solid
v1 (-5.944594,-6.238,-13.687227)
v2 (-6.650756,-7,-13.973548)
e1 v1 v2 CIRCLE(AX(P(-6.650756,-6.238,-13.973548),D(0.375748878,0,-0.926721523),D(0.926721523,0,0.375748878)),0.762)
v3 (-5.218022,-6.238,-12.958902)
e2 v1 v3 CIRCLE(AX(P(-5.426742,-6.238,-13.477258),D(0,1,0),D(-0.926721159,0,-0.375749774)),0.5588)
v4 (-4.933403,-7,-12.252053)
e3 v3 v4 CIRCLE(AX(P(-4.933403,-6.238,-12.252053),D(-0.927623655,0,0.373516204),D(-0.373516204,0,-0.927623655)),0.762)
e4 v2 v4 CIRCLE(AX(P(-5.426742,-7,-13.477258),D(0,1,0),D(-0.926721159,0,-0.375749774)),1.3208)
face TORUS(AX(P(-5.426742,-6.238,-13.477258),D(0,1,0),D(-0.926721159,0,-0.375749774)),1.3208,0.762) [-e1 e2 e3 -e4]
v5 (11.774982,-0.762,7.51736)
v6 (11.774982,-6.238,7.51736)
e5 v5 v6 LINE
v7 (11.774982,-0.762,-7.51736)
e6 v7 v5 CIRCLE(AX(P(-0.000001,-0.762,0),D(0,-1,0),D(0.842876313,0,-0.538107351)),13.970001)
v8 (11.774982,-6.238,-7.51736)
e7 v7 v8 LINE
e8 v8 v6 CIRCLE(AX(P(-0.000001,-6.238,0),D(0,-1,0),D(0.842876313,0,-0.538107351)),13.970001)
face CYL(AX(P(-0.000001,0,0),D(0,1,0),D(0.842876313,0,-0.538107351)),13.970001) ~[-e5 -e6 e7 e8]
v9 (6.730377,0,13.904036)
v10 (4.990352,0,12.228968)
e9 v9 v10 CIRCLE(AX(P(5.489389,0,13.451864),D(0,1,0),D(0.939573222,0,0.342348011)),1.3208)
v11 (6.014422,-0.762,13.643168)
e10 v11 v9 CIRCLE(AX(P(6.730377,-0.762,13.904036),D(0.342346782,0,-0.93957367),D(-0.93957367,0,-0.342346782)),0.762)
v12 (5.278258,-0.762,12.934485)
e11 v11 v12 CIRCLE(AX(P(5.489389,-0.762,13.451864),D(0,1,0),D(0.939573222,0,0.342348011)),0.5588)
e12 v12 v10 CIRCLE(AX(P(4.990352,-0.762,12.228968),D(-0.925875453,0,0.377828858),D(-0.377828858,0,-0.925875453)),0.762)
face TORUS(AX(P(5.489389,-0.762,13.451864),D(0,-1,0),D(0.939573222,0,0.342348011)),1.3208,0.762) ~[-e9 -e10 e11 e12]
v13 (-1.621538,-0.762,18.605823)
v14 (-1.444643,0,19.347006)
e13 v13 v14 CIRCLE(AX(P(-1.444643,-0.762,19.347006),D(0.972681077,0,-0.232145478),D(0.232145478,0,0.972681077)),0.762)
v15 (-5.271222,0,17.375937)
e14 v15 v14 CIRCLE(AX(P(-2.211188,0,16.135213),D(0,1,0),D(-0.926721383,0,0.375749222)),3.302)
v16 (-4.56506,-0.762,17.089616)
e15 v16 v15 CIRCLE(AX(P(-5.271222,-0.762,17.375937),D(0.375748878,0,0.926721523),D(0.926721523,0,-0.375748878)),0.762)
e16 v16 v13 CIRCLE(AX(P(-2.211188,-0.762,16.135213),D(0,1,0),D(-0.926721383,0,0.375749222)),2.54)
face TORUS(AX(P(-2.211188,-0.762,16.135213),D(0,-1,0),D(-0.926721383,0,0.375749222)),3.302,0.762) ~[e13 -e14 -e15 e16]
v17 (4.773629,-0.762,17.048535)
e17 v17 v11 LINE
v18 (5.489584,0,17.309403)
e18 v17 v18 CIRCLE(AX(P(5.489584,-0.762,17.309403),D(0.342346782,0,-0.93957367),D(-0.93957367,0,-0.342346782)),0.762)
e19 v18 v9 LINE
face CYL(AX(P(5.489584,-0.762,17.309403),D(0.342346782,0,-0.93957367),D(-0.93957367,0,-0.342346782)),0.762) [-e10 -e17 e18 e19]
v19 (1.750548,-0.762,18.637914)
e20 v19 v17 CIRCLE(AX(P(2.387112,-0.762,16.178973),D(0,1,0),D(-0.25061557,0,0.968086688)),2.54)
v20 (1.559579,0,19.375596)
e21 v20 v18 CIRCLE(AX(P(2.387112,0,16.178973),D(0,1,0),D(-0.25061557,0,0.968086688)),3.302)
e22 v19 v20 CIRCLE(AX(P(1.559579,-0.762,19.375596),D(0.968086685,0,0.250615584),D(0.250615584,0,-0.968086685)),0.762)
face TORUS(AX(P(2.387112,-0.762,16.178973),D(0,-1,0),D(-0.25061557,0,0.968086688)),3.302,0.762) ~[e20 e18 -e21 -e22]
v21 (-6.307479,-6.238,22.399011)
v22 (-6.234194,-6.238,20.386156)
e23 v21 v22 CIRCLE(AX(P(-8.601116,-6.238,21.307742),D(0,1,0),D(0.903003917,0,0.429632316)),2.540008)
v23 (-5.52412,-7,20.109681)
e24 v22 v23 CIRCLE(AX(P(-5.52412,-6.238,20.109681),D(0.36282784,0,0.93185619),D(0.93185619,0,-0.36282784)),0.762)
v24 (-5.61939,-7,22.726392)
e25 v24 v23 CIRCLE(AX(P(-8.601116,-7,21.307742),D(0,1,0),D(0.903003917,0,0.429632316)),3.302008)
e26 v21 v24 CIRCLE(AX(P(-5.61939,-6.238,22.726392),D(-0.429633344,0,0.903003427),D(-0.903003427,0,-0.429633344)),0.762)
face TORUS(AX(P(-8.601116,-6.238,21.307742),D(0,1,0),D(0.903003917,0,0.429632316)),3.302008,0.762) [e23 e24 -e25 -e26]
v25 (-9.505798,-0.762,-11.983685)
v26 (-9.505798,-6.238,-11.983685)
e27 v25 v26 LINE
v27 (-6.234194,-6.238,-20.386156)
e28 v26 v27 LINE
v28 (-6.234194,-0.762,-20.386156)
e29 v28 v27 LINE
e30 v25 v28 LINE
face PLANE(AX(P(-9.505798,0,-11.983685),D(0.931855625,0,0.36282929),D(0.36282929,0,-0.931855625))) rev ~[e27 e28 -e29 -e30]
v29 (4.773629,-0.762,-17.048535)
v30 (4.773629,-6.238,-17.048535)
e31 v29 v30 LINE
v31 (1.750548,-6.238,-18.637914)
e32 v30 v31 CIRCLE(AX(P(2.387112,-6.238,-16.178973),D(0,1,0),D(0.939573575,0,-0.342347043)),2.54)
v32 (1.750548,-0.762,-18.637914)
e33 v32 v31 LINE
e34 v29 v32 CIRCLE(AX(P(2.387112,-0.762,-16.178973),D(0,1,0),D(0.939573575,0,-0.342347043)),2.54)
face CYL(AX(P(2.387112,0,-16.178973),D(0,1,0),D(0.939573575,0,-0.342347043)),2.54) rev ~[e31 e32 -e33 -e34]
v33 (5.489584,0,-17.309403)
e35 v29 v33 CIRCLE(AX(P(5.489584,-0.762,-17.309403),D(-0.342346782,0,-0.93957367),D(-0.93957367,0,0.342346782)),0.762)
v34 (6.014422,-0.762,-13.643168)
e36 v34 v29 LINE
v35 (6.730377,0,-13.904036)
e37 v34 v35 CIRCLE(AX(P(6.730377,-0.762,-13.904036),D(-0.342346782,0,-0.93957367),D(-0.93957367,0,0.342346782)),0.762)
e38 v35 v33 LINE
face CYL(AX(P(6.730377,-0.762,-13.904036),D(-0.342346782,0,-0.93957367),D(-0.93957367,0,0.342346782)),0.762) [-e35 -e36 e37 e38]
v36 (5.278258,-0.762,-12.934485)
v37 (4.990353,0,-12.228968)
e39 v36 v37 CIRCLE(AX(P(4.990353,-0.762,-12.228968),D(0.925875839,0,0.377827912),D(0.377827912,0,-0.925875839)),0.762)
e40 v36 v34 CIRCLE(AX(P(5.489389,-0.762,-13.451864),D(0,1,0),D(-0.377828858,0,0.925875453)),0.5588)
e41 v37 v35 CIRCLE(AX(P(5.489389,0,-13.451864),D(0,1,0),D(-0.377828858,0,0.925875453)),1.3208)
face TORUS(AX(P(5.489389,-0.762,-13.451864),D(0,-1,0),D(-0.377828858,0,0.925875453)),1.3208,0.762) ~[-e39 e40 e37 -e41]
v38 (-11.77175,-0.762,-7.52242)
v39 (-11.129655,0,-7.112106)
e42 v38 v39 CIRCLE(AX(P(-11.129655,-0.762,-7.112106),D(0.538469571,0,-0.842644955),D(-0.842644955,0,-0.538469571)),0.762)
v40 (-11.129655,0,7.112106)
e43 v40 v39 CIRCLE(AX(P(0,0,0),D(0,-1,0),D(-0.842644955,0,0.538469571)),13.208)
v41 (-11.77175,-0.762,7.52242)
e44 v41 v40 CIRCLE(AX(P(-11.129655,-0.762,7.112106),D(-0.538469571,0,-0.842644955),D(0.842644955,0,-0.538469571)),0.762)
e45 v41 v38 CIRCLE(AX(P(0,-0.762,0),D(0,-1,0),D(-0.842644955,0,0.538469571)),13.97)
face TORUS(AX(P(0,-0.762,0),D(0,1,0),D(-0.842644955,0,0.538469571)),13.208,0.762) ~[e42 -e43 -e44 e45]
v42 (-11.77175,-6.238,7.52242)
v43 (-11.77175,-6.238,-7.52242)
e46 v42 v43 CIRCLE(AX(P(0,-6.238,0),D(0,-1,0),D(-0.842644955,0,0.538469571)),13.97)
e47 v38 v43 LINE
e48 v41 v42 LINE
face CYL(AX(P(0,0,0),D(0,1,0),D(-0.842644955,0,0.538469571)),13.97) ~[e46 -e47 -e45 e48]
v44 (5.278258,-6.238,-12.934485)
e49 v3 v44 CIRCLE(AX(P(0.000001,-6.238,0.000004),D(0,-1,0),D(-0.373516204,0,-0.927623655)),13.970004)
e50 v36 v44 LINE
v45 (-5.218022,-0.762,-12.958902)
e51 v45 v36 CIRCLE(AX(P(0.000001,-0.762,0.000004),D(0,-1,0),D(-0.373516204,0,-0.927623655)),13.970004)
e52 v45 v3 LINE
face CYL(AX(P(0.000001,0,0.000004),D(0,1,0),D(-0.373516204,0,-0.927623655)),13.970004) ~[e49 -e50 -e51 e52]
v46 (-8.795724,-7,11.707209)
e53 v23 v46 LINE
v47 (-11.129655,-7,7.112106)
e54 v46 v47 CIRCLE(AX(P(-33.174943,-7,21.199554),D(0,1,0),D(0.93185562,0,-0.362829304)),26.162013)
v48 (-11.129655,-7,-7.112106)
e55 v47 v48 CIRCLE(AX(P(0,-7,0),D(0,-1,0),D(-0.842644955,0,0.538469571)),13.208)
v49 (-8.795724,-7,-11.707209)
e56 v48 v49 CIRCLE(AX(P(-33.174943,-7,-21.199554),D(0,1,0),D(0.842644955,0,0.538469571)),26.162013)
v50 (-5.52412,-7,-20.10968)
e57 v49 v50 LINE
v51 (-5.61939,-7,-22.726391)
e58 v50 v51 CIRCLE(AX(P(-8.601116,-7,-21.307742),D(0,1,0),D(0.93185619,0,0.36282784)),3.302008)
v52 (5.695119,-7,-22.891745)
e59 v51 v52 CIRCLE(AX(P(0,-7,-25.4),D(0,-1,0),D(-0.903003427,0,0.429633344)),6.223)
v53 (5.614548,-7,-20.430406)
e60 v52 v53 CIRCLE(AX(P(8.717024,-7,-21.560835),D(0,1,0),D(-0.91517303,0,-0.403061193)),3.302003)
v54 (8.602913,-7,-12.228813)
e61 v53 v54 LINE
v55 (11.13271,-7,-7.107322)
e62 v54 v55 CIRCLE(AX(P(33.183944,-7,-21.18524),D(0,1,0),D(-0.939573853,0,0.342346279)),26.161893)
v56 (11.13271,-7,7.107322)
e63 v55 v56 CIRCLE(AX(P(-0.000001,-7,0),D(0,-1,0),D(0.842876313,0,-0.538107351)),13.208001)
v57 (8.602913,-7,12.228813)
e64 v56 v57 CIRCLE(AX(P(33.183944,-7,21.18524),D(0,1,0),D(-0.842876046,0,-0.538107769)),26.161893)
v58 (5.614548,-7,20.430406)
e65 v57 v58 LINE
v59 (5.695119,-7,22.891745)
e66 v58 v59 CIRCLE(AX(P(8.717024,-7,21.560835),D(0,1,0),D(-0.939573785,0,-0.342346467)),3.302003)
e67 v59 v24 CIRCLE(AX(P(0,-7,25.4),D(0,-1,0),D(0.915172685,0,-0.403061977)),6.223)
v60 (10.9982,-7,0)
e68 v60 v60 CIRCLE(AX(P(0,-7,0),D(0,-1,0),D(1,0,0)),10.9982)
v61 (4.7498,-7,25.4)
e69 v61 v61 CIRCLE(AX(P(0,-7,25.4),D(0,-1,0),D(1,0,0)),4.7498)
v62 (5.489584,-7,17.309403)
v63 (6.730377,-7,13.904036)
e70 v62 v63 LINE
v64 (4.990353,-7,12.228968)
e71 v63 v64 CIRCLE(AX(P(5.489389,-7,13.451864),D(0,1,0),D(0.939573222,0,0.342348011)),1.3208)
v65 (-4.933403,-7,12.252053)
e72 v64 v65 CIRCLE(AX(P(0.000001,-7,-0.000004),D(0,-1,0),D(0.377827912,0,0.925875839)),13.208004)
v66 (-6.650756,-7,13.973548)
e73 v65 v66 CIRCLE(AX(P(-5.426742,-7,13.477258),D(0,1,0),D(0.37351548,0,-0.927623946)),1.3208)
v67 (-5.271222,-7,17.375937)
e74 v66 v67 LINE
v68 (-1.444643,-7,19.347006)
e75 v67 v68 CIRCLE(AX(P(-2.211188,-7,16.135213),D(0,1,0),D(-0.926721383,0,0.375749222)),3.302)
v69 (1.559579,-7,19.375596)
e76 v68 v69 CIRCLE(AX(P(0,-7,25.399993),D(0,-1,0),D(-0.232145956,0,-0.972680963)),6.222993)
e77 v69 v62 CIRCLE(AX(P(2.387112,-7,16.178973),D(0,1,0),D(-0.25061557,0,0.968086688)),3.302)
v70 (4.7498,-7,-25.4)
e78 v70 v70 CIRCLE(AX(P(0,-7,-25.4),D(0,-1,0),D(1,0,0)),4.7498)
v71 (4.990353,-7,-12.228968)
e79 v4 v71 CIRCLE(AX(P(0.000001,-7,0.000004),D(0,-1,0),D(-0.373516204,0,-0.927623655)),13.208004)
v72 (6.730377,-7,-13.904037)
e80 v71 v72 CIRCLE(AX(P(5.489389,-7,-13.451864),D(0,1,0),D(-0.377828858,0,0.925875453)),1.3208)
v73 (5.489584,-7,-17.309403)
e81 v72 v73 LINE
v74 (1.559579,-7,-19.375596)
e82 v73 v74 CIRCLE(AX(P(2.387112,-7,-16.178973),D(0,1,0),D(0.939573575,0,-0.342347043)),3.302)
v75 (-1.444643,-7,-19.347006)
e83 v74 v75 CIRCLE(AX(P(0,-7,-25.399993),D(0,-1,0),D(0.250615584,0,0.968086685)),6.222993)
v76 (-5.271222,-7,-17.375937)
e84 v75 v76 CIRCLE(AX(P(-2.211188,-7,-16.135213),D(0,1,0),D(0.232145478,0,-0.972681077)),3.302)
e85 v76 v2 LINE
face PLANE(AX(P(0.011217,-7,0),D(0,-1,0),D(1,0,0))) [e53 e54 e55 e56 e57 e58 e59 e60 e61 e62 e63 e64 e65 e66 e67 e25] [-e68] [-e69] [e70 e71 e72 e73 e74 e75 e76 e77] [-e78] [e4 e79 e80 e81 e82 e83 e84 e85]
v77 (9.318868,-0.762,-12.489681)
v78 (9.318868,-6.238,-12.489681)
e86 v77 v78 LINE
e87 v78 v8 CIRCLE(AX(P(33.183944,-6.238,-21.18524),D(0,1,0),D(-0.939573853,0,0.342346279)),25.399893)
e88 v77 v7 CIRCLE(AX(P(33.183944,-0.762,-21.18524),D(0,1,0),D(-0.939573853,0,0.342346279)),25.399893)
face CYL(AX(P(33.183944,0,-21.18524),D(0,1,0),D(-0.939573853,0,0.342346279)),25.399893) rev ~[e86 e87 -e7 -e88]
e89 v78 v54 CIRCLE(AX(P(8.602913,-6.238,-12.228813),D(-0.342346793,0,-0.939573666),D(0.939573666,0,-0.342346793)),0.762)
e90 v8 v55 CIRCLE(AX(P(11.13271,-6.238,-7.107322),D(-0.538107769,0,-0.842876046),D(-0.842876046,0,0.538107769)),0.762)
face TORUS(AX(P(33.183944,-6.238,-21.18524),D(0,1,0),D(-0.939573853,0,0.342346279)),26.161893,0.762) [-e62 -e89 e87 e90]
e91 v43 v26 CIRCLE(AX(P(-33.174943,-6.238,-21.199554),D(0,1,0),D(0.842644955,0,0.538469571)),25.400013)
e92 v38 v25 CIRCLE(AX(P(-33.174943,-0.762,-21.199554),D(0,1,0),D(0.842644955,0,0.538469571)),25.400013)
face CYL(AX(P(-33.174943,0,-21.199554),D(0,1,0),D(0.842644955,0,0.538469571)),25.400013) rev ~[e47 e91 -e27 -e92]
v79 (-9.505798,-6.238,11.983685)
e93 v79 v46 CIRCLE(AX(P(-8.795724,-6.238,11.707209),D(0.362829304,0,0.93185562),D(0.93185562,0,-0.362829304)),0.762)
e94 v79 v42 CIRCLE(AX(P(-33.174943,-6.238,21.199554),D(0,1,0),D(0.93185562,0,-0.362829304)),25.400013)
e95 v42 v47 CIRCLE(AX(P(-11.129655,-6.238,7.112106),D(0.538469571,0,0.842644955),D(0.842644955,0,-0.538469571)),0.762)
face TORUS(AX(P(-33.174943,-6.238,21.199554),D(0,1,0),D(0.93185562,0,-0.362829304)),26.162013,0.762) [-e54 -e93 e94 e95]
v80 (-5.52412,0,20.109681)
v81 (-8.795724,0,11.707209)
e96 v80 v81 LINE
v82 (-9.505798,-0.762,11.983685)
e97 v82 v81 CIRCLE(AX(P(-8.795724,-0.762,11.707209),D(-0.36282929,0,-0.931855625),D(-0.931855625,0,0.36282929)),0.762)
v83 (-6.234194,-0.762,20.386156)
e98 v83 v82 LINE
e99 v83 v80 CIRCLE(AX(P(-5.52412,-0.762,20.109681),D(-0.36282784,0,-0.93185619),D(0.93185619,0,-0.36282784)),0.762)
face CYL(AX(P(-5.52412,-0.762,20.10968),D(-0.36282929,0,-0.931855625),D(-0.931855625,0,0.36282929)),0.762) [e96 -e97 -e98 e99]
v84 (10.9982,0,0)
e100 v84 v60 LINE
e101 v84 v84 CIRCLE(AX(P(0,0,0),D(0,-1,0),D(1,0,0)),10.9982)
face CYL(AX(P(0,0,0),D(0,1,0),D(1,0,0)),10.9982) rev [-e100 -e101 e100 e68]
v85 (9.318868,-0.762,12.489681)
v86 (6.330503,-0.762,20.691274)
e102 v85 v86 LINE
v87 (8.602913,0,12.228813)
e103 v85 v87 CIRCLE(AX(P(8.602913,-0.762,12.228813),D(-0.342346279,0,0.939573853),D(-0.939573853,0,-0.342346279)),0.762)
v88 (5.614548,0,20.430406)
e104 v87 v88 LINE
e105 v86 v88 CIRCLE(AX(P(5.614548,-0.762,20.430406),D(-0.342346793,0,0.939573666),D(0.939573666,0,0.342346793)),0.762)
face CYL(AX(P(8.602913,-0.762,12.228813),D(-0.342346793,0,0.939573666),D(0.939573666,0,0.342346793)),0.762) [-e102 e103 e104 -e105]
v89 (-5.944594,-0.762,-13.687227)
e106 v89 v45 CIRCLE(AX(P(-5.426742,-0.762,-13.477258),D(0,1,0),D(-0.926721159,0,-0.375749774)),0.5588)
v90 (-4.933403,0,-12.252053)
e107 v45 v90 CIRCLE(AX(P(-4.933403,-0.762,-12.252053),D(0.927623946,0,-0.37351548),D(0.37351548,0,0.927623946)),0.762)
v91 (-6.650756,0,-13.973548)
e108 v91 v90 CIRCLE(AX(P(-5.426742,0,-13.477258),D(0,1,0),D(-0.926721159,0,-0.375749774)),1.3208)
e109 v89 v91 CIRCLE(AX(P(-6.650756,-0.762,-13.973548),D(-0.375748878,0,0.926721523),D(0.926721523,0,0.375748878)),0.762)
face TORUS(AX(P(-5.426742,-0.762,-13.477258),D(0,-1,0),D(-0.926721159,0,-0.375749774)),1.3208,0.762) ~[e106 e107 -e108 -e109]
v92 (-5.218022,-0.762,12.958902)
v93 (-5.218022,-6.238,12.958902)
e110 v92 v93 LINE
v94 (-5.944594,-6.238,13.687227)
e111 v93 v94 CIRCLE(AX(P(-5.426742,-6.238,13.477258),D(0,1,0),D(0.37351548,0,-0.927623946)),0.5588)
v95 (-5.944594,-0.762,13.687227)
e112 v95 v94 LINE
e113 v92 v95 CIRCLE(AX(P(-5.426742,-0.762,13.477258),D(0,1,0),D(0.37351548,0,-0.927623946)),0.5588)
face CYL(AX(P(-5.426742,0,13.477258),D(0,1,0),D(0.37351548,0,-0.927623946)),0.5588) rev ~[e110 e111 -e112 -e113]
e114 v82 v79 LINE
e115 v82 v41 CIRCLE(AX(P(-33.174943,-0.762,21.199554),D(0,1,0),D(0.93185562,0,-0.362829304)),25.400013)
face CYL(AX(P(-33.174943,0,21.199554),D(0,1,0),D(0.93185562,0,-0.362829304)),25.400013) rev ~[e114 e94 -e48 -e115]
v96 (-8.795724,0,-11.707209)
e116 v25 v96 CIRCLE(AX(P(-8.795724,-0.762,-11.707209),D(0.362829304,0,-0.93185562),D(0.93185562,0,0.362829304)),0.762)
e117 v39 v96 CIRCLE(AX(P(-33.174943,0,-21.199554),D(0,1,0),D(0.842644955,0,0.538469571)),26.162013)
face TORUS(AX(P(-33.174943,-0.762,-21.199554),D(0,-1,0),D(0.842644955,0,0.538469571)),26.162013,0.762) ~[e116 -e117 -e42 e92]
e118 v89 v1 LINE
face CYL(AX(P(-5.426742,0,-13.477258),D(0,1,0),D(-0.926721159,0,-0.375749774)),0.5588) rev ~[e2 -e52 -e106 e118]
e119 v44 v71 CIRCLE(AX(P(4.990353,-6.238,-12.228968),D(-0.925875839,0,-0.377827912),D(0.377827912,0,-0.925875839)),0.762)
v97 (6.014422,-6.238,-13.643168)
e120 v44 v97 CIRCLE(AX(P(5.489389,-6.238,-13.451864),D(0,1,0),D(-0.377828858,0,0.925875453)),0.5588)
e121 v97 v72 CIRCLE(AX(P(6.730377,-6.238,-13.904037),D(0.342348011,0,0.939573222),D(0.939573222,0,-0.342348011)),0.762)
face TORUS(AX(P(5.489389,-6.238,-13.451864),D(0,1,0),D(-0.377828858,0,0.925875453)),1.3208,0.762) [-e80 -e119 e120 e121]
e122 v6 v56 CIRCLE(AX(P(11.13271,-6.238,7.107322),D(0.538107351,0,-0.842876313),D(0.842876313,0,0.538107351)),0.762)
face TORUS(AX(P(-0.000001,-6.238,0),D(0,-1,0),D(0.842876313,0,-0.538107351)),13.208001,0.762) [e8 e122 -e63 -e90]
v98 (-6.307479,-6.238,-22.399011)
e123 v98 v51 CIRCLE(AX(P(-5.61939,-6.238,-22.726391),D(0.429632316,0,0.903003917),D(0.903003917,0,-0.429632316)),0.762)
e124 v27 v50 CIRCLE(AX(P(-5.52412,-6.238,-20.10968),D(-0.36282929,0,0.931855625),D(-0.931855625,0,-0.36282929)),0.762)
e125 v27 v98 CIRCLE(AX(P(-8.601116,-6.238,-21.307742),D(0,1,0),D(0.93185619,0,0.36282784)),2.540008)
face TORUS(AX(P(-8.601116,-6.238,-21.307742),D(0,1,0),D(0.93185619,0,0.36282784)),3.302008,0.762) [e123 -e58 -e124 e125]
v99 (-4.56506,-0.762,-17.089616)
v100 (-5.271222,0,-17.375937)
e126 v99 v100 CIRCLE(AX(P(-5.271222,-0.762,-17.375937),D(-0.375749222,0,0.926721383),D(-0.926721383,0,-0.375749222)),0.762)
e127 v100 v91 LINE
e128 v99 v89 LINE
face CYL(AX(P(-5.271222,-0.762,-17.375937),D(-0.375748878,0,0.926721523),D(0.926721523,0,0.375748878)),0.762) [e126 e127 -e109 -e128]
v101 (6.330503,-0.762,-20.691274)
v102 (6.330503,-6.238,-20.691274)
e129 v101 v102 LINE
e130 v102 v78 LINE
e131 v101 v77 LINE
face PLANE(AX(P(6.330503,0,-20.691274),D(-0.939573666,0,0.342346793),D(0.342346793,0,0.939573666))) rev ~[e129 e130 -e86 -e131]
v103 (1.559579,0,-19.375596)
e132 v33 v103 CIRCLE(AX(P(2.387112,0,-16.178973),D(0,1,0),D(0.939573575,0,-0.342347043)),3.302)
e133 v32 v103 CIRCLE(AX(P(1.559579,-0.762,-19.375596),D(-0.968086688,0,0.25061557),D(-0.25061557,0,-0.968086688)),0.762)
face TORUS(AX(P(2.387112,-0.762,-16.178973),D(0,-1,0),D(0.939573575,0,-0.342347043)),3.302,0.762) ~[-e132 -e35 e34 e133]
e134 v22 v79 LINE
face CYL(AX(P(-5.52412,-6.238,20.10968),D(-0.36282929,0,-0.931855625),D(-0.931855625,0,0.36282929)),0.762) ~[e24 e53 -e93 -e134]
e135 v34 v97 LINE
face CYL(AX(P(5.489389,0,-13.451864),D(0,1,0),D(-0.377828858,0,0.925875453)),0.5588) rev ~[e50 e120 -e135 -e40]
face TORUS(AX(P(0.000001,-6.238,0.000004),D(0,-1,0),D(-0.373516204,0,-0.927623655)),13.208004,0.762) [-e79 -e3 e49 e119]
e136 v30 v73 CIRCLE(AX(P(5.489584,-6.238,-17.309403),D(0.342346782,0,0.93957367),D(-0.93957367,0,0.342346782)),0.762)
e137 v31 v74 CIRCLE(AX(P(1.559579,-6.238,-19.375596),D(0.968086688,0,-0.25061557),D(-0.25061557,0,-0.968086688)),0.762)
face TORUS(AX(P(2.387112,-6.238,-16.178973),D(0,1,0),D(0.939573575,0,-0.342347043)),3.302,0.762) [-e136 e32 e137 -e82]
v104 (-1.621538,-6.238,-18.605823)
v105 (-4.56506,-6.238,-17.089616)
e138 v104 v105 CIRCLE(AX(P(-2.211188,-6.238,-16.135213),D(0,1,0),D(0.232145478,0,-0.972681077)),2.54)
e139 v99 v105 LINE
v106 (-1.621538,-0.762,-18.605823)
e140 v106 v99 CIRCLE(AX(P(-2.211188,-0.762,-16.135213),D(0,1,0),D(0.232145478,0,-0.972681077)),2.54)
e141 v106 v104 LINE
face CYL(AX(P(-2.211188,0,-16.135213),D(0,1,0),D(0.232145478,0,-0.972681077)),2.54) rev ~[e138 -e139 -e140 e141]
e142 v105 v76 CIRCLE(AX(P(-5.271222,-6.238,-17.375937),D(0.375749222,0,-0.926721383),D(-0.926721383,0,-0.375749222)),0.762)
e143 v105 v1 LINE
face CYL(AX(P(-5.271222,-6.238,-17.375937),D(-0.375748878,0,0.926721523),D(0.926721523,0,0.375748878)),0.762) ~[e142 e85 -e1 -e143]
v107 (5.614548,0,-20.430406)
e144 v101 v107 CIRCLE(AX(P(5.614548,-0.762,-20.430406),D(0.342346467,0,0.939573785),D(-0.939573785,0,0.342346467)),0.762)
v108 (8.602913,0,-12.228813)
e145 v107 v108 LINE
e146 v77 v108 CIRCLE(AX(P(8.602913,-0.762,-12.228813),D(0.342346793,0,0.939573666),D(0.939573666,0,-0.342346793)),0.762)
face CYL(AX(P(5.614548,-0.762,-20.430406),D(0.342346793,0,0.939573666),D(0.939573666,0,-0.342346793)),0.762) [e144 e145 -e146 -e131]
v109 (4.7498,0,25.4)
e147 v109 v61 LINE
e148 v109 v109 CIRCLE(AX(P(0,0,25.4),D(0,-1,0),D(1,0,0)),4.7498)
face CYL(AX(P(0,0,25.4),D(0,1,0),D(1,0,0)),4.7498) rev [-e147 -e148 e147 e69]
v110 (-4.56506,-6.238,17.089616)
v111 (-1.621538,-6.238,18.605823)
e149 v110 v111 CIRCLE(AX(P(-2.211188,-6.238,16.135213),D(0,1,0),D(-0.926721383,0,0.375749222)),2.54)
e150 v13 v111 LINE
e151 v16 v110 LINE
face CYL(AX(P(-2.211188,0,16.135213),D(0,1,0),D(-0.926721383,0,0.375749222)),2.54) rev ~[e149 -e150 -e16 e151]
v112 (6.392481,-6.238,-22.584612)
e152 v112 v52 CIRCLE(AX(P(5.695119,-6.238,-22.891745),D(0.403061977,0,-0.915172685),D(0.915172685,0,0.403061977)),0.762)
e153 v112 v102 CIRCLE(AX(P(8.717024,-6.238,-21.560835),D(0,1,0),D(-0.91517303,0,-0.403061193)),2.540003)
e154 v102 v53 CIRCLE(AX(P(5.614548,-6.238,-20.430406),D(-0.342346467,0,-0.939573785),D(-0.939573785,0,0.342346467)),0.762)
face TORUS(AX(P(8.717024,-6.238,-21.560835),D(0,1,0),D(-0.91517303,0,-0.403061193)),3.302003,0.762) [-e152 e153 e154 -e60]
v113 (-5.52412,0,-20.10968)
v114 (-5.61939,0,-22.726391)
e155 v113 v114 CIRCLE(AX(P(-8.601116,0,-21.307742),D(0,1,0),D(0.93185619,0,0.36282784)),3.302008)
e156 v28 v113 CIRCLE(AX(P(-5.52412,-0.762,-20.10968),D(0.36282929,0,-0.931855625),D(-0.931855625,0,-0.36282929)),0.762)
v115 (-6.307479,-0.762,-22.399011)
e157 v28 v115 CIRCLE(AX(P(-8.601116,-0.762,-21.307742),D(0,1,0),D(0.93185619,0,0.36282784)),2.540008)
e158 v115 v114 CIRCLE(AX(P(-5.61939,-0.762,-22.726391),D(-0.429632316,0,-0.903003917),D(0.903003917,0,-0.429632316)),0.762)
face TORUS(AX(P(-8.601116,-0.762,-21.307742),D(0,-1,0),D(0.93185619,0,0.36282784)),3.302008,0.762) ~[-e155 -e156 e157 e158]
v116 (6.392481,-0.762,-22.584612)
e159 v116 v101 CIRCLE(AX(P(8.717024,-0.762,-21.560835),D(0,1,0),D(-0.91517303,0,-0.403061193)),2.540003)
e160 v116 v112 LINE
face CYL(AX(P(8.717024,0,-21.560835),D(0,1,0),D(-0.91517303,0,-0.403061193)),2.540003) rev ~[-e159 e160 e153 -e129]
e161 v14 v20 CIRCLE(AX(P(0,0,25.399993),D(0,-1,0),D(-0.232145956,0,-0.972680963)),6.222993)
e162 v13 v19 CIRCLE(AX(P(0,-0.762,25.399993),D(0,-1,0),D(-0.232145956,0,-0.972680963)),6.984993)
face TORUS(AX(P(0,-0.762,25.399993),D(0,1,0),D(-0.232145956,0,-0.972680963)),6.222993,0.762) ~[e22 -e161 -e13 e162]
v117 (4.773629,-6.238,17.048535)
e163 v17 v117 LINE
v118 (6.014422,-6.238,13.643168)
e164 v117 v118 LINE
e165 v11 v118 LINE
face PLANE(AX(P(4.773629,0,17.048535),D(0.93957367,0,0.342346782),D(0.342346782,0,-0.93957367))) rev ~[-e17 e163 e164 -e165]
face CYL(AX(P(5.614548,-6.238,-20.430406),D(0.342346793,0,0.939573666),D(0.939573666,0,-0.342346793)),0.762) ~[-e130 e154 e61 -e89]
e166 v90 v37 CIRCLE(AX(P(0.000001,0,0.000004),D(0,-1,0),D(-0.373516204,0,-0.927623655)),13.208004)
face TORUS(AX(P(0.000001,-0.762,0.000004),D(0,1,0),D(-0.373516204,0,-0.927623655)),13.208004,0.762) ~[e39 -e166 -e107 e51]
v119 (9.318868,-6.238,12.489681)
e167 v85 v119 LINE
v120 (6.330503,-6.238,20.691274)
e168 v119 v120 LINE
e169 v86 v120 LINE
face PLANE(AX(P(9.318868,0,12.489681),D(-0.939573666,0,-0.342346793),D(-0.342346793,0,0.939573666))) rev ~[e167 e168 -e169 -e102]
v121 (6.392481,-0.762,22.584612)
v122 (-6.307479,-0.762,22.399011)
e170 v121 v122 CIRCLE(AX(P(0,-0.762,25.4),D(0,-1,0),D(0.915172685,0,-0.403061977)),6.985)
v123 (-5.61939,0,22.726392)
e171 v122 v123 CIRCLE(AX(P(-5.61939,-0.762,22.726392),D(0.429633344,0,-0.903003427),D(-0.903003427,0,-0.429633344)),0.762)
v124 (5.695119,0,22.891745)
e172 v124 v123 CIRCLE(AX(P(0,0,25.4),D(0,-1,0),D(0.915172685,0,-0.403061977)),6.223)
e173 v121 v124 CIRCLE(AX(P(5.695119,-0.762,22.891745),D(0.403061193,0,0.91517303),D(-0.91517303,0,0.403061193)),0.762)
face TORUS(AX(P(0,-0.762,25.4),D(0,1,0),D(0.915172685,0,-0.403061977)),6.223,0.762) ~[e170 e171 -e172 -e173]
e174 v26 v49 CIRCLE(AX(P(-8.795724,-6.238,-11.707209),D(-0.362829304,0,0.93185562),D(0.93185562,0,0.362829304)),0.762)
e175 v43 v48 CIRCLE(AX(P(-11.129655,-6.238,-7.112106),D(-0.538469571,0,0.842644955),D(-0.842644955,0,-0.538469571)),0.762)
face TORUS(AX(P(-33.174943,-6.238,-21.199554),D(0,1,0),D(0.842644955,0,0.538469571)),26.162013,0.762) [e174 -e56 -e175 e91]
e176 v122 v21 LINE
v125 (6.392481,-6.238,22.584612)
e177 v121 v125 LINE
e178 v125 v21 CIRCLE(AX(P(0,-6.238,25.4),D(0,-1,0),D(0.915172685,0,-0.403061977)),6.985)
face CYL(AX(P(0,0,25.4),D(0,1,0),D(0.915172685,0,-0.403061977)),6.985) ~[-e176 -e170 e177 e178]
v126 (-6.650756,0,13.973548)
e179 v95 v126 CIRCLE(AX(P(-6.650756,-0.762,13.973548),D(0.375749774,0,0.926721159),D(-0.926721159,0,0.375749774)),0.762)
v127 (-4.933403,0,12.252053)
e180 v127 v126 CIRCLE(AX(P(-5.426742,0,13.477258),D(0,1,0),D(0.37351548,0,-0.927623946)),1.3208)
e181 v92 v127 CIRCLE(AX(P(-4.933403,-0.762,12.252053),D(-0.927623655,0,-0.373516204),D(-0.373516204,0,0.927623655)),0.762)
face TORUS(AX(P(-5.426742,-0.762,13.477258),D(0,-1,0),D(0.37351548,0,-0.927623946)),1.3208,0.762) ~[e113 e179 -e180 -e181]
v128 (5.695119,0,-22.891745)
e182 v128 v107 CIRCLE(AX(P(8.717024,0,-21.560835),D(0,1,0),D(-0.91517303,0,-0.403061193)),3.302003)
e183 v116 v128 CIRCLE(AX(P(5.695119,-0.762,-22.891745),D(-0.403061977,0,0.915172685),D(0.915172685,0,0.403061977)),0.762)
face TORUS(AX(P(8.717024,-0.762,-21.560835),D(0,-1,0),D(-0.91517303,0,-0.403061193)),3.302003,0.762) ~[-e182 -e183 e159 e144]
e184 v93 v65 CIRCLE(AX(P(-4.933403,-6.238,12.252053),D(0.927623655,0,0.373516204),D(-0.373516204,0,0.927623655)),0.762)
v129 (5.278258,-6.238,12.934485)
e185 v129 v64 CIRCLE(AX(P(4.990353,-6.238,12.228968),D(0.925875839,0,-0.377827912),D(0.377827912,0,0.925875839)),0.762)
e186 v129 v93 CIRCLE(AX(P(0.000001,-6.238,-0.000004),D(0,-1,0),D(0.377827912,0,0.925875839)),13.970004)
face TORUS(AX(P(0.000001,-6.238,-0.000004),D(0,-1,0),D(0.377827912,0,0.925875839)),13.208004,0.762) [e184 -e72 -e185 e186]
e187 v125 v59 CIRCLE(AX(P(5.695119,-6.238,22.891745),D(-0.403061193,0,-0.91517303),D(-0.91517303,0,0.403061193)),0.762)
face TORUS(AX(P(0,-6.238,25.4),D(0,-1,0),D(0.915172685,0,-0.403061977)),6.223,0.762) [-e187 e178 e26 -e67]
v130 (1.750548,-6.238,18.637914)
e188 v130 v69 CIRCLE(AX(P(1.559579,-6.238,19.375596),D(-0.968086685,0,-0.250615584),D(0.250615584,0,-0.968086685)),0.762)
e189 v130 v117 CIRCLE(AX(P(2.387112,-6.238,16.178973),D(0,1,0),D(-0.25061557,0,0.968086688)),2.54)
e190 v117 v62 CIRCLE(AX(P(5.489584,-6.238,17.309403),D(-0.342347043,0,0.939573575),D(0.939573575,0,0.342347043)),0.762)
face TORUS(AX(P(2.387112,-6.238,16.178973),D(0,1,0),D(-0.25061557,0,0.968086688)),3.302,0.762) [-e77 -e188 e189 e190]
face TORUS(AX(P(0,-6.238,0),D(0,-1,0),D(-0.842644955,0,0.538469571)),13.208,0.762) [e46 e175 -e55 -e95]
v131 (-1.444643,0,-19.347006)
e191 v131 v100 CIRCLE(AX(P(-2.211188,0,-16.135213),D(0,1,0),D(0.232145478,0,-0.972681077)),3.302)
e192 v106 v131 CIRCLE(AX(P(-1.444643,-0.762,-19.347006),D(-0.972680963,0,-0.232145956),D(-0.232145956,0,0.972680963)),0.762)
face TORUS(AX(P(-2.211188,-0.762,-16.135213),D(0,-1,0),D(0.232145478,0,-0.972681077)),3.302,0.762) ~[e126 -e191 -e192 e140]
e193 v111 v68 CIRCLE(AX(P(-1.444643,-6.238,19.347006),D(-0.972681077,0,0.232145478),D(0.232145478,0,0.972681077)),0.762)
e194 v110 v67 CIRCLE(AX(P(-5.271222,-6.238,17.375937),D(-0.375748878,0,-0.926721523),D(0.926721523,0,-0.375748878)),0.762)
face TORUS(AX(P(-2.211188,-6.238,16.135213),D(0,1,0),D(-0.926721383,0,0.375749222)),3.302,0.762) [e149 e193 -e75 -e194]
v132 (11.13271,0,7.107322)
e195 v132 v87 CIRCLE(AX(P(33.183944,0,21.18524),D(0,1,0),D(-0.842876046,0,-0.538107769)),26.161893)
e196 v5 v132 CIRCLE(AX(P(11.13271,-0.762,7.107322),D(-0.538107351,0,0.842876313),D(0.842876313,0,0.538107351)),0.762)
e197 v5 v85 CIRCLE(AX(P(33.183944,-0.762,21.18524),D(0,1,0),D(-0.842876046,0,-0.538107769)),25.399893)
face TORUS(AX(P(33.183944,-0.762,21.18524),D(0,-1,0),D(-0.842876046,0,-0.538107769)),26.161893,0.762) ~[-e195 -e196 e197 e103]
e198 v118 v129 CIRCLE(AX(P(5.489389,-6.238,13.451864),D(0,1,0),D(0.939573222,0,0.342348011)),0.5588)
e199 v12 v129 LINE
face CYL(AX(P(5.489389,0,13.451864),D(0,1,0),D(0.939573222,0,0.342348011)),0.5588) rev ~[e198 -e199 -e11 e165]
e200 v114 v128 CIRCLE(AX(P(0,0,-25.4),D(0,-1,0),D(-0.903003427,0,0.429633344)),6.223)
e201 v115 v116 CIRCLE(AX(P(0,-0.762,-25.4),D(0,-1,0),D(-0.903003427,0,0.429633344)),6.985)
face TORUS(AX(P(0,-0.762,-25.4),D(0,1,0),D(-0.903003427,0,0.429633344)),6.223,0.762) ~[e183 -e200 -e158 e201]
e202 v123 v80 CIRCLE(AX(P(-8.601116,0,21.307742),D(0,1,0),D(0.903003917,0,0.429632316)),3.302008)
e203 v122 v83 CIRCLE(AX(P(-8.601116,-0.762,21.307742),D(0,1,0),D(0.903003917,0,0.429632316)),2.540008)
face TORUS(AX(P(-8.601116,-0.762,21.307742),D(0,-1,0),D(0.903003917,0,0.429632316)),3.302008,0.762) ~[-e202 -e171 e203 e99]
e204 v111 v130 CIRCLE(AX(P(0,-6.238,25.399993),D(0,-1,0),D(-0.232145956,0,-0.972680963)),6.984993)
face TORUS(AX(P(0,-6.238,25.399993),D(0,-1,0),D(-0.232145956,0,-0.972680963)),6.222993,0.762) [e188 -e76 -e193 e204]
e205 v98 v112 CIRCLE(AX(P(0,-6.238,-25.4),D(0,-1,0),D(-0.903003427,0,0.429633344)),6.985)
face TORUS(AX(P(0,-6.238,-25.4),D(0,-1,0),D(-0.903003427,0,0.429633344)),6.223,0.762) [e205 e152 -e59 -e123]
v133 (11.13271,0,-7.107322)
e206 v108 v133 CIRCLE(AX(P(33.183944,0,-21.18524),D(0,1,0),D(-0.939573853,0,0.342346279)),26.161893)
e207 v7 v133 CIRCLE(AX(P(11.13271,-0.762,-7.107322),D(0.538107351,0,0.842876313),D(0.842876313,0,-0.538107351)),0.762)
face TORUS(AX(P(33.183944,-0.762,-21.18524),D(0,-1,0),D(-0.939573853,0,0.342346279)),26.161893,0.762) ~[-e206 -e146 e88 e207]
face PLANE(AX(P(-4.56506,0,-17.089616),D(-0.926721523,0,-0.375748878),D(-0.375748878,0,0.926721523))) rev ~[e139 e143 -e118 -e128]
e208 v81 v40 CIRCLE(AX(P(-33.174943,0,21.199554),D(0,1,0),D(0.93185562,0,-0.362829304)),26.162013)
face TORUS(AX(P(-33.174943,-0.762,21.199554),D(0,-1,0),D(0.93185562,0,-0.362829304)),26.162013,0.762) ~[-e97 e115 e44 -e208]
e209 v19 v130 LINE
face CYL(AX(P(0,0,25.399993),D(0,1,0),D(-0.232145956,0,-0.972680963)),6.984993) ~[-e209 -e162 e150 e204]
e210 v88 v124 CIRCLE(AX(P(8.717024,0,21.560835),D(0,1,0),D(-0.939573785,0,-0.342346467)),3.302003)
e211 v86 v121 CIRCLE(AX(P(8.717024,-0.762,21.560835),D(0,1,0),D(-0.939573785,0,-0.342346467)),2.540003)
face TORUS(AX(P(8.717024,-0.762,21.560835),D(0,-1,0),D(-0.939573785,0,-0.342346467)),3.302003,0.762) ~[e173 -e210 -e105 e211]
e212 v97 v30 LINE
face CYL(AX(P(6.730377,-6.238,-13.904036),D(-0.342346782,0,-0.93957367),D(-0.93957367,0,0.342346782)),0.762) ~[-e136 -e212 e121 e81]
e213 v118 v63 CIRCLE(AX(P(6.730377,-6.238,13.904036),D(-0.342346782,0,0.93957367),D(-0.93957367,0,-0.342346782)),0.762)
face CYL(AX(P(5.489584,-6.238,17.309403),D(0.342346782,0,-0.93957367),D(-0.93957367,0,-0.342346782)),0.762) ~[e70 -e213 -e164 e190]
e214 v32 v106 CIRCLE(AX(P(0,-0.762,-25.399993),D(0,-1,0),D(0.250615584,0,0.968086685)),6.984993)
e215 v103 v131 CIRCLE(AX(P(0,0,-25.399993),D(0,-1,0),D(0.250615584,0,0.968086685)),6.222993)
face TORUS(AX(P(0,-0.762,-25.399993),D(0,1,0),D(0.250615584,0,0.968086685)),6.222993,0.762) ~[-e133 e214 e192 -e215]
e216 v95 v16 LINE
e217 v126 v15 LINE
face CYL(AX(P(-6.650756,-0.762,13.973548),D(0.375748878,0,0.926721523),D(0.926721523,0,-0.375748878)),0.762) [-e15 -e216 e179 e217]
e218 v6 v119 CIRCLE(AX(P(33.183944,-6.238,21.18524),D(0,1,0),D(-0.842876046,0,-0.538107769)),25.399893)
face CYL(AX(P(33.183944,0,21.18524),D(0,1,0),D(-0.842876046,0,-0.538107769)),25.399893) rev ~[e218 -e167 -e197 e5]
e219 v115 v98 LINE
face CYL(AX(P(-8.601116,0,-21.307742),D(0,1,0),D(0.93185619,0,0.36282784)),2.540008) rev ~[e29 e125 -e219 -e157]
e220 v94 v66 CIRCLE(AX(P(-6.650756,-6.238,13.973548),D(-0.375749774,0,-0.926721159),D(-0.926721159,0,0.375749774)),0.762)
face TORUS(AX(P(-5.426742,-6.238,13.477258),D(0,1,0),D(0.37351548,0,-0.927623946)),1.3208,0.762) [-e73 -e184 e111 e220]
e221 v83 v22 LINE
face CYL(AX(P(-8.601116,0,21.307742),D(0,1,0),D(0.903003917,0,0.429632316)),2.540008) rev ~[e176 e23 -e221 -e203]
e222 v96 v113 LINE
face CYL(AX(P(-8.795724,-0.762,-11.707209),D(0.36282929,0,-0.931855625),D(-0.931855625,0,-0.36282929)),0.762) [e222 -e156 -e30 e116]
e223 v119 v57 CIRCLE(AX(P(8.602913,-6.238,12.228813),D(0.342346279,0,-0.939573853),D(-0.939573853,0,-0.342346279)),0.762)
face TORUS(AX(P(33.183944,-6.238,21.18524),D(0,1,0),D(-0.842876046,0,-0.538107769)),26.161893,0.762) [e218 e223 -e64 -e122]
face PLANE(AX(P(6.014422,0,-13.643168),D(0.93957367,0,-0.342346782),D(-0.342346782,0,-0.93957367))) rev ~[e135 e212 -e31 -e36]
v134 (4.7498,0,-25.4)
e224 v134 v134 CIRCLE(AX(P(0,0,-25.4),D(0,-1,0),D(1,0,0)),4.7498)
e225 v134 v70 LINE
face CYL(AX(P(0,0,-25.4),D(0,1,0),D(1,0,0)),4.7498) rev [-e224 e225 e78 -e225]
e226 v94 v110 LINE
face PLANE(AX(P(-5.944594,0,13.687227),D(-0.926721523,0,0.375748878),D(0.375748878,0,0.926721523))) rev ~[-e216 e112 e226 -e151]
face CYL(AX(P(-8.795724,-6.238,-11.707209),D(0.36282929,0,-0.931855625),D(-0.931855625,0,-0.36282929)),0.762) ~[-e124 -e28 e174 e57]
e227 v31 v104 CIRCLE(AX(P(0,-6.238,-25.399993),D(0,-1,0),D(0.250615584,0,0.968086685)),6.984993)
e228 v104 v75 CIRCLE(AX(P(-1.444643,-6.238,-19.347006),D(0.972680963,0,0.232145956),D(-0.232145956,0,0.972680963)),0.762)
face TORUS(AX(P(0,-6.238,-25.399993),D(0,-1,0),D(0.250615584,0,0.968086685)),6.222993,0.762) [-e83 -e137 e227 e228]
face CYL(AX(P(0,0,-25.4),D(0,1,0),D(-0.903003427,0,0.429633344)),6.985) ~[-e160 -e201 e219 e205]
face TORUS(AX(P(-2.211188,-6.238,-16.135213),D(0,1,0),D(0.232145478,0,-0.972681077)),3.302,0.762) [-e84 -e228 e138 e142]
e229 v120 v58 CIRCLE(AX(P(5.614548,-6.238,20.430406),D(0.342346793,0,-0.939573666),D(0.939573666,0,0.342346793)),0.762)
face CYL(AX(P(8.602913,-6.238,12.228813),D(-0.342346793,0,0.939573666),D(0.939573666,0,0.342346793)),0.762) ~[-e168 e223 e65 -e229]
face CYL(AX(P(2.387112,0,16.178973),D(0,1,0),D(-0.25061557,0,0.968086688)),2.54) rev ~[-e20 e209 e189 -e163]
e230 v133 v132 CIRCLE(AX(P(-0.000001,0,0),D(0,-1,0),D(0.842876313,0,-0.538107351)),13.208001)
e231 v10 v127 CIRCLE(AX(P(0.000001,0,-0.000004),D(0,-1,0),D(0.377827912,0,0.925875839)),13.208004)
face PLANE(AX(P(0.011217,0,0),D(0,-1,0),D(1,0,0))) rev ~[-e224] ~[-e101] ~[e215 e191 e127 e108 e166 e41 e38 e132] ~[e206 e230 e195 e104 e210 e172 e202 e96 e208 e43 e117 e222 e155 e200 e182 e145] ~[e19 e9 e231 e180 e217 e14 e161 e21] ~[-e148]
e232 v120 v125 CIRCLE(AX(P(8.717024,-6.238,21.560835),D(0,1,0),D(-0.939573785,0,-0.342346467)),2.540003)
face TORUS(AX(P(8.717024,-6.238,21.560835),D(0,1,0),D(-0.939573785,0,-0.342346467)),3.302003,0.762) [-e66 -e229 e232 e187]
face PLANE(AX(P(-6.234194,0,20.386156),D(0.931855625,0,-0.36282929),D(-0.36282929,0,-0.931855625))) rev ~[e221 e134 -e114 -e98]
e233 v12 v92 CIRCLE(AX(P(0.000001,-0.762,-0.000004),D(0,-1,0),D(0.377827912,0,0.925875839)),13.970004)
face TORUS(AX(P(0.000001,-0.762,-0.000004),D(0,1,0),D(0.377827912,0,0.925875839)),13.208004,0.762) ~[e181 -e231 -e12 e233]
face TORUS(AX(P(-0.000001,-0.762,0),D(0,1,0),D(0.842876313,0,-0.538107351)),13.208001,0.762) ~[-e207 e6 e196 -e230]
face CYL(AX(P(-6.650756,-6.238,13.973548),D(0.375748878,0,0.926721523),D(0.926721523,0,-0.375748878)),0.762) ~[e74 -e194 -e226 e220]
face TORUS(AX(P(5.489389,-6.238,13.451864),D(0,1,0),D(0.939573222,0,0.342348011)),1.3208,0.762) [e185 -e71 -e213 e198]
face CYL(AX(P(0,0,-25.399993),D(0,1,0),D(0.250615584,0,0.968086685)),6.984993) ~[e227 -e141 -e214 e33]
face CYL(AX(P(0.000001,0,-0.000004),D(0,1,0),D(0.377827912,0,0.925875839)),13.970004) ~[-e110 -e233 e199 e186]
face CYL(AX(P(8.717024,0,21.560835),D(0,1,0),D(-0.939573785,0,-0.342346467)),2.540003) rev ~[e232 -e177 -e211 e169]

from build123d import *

# Parameters (mm, degrees)
F0_R     = 4.7498
F0_R_2   = 10.9982
F1_DEPTH = 7
F2_R     = 0.762


with BuildPart() as f1:
    # F0 (on Front) → F1 (new body)
    with BuildSketch(Plane.XZ):
        with BuildLine():
            ThreePointArc((-9.505798, 11.983685), (-10.528649, 9.697118), (-11.77175, 7.52242))
            ThreePointArc((-11.77175, 7.52242), (-13.97, 0), (-11.77175, -7.52242))
            ThreePointArc((-11.77175, -7.52242), (-10.528649, -9.697118), (-9.505798, -11.983685))
            Line((-9.505798, -11.983685), (-6.234194, -20.386156))
            ThreePointArc((-6.234194, -20.386156), (-6.06279, -21.400158), (-6.307479, -22.399011))
            ThreePointArc((-6.307479, -22.399011), (-0.10207, -32.384254), (6.392481, -22.584612))
            ThreePointArc((6.392481, -22.584612), (6.17838, -21.643937), (6.330503, -20.691274))
            Line((6.330503, -20.691274), (9.318868, -12.489681))
            ThreePointArc((9.318868, -12.489681), (10.41081, -9.936286), (11.774982, -7.51736))
            ThreePointArc((11.774982, -7.51736), (13.97, 0), (11.774982, 7.51736))
            ThreePointArc((11.774982, 7.51736), (10.41081, 9.936286), (9.318868, 12.489681))
            Line((9.318868, 12.489681), (6.330503, 20.691274))
            ThreePointArc((6.330503, 20.691274), (6.17838, 21.643937), (6.392481, 22.584612))
            ThreePointArc((6.392481, 22.584612), (-0.10207, 32.384254), (-6.307479, 22.399011))
            ThreePointArc((-6.307479, 22.399011), (-6.06279, 21.400158), (-6.234194, 20.386156))
            Line((-6.234194, 20.386156), (-9.505798, 11.983685))
        make_face()
        with Locations((0, -25.4)):
            Circle(F0_R, mode=Mode.SUBTRACT)
        with BuildLine():
            ThreePointArc((-5.218022, -12.958902), (0.032498, -13.969962), (5.278258, -12.934485))
            ThreePointArc((5.278258, -12.934485), (5.876934, -13.04929), (6.014422, -13.643168))
            Line((6.014422, -13.643168), (4.773629, -17.048535))
            ThreePointArc((4.773629, -17.048535), (3.569108, -18.427192), (1.750548, -18.637914))
            ThreePointArc((1.750548, -18.637914), (0.066471, -18.415316), (-1.621538, -18.605823))
            ThreePointArc((-1.621538, -18.605823), (-3.374305, -18.393256), (-4.56506, -17.089616))
            Line((-4.56506, -17.089616), (-5.944594, -13.687227))
            ThreePointArc((-5.944594, -13.687227), (-5.822349, -13.082603), (-5.218022, -12.958902))
        make_face(mode=Mode.SUBTRACT)
        Circle(F0_R_2, mode=Mode.SUBTRACT)
        with Locations((0, 25.4)):
            Circle(F0_R, mode=Mode.SUBTRACT)
        with BuildLine():
            ThreePointArc((1.750548, 18.637914), (3.569108, 18.427192), (4.773629, 17.048535))
            Line((4.773629, 17.048535), (6.014422, 13.643168))
            ThreePointArc((6.014422, 13.643168), (5.876934, 13.04929), (5.278258, 12.934485))
            ThreePointArc((5.278258, 12.934485), (0.032498, 13.969962), (-5.218022, 12.958902))
            ThreePointArc((-5.218022, 12.958902), (-5.822349, 13.082603), (-5.944594, 13.687227))
            Line((-5.944594, 13.687227), (-4.56506, 17.089616))
            ThreePointArc((-4.56506, 17.089616), (-3.374305, 18.393256), (-1.621538, 18.605823))
            ThreePointArc((-1.621538, 18.605823), (0.066471, 18.415316), (1.750548, 18.637914))
        make_face(mode=Mode.SUBTRACT)
    extrude(amount=F1_DEPTH)

    # F2
    f2_edges = [f1.edges().sort_by_distance(p)[0] for p in [
        (-10.528649, -7, 9.697118),
        (0.032498, -7, 13.969962),
        (0.032498, -7, -13.969962),
        (13.97, 0, 0),
        (5.394025, 0, 15.345851),
        (5.394025, 0, -15.345851),
    ]]
    fillet(f2_edges, radius=F2_R)


solid = f1.part
